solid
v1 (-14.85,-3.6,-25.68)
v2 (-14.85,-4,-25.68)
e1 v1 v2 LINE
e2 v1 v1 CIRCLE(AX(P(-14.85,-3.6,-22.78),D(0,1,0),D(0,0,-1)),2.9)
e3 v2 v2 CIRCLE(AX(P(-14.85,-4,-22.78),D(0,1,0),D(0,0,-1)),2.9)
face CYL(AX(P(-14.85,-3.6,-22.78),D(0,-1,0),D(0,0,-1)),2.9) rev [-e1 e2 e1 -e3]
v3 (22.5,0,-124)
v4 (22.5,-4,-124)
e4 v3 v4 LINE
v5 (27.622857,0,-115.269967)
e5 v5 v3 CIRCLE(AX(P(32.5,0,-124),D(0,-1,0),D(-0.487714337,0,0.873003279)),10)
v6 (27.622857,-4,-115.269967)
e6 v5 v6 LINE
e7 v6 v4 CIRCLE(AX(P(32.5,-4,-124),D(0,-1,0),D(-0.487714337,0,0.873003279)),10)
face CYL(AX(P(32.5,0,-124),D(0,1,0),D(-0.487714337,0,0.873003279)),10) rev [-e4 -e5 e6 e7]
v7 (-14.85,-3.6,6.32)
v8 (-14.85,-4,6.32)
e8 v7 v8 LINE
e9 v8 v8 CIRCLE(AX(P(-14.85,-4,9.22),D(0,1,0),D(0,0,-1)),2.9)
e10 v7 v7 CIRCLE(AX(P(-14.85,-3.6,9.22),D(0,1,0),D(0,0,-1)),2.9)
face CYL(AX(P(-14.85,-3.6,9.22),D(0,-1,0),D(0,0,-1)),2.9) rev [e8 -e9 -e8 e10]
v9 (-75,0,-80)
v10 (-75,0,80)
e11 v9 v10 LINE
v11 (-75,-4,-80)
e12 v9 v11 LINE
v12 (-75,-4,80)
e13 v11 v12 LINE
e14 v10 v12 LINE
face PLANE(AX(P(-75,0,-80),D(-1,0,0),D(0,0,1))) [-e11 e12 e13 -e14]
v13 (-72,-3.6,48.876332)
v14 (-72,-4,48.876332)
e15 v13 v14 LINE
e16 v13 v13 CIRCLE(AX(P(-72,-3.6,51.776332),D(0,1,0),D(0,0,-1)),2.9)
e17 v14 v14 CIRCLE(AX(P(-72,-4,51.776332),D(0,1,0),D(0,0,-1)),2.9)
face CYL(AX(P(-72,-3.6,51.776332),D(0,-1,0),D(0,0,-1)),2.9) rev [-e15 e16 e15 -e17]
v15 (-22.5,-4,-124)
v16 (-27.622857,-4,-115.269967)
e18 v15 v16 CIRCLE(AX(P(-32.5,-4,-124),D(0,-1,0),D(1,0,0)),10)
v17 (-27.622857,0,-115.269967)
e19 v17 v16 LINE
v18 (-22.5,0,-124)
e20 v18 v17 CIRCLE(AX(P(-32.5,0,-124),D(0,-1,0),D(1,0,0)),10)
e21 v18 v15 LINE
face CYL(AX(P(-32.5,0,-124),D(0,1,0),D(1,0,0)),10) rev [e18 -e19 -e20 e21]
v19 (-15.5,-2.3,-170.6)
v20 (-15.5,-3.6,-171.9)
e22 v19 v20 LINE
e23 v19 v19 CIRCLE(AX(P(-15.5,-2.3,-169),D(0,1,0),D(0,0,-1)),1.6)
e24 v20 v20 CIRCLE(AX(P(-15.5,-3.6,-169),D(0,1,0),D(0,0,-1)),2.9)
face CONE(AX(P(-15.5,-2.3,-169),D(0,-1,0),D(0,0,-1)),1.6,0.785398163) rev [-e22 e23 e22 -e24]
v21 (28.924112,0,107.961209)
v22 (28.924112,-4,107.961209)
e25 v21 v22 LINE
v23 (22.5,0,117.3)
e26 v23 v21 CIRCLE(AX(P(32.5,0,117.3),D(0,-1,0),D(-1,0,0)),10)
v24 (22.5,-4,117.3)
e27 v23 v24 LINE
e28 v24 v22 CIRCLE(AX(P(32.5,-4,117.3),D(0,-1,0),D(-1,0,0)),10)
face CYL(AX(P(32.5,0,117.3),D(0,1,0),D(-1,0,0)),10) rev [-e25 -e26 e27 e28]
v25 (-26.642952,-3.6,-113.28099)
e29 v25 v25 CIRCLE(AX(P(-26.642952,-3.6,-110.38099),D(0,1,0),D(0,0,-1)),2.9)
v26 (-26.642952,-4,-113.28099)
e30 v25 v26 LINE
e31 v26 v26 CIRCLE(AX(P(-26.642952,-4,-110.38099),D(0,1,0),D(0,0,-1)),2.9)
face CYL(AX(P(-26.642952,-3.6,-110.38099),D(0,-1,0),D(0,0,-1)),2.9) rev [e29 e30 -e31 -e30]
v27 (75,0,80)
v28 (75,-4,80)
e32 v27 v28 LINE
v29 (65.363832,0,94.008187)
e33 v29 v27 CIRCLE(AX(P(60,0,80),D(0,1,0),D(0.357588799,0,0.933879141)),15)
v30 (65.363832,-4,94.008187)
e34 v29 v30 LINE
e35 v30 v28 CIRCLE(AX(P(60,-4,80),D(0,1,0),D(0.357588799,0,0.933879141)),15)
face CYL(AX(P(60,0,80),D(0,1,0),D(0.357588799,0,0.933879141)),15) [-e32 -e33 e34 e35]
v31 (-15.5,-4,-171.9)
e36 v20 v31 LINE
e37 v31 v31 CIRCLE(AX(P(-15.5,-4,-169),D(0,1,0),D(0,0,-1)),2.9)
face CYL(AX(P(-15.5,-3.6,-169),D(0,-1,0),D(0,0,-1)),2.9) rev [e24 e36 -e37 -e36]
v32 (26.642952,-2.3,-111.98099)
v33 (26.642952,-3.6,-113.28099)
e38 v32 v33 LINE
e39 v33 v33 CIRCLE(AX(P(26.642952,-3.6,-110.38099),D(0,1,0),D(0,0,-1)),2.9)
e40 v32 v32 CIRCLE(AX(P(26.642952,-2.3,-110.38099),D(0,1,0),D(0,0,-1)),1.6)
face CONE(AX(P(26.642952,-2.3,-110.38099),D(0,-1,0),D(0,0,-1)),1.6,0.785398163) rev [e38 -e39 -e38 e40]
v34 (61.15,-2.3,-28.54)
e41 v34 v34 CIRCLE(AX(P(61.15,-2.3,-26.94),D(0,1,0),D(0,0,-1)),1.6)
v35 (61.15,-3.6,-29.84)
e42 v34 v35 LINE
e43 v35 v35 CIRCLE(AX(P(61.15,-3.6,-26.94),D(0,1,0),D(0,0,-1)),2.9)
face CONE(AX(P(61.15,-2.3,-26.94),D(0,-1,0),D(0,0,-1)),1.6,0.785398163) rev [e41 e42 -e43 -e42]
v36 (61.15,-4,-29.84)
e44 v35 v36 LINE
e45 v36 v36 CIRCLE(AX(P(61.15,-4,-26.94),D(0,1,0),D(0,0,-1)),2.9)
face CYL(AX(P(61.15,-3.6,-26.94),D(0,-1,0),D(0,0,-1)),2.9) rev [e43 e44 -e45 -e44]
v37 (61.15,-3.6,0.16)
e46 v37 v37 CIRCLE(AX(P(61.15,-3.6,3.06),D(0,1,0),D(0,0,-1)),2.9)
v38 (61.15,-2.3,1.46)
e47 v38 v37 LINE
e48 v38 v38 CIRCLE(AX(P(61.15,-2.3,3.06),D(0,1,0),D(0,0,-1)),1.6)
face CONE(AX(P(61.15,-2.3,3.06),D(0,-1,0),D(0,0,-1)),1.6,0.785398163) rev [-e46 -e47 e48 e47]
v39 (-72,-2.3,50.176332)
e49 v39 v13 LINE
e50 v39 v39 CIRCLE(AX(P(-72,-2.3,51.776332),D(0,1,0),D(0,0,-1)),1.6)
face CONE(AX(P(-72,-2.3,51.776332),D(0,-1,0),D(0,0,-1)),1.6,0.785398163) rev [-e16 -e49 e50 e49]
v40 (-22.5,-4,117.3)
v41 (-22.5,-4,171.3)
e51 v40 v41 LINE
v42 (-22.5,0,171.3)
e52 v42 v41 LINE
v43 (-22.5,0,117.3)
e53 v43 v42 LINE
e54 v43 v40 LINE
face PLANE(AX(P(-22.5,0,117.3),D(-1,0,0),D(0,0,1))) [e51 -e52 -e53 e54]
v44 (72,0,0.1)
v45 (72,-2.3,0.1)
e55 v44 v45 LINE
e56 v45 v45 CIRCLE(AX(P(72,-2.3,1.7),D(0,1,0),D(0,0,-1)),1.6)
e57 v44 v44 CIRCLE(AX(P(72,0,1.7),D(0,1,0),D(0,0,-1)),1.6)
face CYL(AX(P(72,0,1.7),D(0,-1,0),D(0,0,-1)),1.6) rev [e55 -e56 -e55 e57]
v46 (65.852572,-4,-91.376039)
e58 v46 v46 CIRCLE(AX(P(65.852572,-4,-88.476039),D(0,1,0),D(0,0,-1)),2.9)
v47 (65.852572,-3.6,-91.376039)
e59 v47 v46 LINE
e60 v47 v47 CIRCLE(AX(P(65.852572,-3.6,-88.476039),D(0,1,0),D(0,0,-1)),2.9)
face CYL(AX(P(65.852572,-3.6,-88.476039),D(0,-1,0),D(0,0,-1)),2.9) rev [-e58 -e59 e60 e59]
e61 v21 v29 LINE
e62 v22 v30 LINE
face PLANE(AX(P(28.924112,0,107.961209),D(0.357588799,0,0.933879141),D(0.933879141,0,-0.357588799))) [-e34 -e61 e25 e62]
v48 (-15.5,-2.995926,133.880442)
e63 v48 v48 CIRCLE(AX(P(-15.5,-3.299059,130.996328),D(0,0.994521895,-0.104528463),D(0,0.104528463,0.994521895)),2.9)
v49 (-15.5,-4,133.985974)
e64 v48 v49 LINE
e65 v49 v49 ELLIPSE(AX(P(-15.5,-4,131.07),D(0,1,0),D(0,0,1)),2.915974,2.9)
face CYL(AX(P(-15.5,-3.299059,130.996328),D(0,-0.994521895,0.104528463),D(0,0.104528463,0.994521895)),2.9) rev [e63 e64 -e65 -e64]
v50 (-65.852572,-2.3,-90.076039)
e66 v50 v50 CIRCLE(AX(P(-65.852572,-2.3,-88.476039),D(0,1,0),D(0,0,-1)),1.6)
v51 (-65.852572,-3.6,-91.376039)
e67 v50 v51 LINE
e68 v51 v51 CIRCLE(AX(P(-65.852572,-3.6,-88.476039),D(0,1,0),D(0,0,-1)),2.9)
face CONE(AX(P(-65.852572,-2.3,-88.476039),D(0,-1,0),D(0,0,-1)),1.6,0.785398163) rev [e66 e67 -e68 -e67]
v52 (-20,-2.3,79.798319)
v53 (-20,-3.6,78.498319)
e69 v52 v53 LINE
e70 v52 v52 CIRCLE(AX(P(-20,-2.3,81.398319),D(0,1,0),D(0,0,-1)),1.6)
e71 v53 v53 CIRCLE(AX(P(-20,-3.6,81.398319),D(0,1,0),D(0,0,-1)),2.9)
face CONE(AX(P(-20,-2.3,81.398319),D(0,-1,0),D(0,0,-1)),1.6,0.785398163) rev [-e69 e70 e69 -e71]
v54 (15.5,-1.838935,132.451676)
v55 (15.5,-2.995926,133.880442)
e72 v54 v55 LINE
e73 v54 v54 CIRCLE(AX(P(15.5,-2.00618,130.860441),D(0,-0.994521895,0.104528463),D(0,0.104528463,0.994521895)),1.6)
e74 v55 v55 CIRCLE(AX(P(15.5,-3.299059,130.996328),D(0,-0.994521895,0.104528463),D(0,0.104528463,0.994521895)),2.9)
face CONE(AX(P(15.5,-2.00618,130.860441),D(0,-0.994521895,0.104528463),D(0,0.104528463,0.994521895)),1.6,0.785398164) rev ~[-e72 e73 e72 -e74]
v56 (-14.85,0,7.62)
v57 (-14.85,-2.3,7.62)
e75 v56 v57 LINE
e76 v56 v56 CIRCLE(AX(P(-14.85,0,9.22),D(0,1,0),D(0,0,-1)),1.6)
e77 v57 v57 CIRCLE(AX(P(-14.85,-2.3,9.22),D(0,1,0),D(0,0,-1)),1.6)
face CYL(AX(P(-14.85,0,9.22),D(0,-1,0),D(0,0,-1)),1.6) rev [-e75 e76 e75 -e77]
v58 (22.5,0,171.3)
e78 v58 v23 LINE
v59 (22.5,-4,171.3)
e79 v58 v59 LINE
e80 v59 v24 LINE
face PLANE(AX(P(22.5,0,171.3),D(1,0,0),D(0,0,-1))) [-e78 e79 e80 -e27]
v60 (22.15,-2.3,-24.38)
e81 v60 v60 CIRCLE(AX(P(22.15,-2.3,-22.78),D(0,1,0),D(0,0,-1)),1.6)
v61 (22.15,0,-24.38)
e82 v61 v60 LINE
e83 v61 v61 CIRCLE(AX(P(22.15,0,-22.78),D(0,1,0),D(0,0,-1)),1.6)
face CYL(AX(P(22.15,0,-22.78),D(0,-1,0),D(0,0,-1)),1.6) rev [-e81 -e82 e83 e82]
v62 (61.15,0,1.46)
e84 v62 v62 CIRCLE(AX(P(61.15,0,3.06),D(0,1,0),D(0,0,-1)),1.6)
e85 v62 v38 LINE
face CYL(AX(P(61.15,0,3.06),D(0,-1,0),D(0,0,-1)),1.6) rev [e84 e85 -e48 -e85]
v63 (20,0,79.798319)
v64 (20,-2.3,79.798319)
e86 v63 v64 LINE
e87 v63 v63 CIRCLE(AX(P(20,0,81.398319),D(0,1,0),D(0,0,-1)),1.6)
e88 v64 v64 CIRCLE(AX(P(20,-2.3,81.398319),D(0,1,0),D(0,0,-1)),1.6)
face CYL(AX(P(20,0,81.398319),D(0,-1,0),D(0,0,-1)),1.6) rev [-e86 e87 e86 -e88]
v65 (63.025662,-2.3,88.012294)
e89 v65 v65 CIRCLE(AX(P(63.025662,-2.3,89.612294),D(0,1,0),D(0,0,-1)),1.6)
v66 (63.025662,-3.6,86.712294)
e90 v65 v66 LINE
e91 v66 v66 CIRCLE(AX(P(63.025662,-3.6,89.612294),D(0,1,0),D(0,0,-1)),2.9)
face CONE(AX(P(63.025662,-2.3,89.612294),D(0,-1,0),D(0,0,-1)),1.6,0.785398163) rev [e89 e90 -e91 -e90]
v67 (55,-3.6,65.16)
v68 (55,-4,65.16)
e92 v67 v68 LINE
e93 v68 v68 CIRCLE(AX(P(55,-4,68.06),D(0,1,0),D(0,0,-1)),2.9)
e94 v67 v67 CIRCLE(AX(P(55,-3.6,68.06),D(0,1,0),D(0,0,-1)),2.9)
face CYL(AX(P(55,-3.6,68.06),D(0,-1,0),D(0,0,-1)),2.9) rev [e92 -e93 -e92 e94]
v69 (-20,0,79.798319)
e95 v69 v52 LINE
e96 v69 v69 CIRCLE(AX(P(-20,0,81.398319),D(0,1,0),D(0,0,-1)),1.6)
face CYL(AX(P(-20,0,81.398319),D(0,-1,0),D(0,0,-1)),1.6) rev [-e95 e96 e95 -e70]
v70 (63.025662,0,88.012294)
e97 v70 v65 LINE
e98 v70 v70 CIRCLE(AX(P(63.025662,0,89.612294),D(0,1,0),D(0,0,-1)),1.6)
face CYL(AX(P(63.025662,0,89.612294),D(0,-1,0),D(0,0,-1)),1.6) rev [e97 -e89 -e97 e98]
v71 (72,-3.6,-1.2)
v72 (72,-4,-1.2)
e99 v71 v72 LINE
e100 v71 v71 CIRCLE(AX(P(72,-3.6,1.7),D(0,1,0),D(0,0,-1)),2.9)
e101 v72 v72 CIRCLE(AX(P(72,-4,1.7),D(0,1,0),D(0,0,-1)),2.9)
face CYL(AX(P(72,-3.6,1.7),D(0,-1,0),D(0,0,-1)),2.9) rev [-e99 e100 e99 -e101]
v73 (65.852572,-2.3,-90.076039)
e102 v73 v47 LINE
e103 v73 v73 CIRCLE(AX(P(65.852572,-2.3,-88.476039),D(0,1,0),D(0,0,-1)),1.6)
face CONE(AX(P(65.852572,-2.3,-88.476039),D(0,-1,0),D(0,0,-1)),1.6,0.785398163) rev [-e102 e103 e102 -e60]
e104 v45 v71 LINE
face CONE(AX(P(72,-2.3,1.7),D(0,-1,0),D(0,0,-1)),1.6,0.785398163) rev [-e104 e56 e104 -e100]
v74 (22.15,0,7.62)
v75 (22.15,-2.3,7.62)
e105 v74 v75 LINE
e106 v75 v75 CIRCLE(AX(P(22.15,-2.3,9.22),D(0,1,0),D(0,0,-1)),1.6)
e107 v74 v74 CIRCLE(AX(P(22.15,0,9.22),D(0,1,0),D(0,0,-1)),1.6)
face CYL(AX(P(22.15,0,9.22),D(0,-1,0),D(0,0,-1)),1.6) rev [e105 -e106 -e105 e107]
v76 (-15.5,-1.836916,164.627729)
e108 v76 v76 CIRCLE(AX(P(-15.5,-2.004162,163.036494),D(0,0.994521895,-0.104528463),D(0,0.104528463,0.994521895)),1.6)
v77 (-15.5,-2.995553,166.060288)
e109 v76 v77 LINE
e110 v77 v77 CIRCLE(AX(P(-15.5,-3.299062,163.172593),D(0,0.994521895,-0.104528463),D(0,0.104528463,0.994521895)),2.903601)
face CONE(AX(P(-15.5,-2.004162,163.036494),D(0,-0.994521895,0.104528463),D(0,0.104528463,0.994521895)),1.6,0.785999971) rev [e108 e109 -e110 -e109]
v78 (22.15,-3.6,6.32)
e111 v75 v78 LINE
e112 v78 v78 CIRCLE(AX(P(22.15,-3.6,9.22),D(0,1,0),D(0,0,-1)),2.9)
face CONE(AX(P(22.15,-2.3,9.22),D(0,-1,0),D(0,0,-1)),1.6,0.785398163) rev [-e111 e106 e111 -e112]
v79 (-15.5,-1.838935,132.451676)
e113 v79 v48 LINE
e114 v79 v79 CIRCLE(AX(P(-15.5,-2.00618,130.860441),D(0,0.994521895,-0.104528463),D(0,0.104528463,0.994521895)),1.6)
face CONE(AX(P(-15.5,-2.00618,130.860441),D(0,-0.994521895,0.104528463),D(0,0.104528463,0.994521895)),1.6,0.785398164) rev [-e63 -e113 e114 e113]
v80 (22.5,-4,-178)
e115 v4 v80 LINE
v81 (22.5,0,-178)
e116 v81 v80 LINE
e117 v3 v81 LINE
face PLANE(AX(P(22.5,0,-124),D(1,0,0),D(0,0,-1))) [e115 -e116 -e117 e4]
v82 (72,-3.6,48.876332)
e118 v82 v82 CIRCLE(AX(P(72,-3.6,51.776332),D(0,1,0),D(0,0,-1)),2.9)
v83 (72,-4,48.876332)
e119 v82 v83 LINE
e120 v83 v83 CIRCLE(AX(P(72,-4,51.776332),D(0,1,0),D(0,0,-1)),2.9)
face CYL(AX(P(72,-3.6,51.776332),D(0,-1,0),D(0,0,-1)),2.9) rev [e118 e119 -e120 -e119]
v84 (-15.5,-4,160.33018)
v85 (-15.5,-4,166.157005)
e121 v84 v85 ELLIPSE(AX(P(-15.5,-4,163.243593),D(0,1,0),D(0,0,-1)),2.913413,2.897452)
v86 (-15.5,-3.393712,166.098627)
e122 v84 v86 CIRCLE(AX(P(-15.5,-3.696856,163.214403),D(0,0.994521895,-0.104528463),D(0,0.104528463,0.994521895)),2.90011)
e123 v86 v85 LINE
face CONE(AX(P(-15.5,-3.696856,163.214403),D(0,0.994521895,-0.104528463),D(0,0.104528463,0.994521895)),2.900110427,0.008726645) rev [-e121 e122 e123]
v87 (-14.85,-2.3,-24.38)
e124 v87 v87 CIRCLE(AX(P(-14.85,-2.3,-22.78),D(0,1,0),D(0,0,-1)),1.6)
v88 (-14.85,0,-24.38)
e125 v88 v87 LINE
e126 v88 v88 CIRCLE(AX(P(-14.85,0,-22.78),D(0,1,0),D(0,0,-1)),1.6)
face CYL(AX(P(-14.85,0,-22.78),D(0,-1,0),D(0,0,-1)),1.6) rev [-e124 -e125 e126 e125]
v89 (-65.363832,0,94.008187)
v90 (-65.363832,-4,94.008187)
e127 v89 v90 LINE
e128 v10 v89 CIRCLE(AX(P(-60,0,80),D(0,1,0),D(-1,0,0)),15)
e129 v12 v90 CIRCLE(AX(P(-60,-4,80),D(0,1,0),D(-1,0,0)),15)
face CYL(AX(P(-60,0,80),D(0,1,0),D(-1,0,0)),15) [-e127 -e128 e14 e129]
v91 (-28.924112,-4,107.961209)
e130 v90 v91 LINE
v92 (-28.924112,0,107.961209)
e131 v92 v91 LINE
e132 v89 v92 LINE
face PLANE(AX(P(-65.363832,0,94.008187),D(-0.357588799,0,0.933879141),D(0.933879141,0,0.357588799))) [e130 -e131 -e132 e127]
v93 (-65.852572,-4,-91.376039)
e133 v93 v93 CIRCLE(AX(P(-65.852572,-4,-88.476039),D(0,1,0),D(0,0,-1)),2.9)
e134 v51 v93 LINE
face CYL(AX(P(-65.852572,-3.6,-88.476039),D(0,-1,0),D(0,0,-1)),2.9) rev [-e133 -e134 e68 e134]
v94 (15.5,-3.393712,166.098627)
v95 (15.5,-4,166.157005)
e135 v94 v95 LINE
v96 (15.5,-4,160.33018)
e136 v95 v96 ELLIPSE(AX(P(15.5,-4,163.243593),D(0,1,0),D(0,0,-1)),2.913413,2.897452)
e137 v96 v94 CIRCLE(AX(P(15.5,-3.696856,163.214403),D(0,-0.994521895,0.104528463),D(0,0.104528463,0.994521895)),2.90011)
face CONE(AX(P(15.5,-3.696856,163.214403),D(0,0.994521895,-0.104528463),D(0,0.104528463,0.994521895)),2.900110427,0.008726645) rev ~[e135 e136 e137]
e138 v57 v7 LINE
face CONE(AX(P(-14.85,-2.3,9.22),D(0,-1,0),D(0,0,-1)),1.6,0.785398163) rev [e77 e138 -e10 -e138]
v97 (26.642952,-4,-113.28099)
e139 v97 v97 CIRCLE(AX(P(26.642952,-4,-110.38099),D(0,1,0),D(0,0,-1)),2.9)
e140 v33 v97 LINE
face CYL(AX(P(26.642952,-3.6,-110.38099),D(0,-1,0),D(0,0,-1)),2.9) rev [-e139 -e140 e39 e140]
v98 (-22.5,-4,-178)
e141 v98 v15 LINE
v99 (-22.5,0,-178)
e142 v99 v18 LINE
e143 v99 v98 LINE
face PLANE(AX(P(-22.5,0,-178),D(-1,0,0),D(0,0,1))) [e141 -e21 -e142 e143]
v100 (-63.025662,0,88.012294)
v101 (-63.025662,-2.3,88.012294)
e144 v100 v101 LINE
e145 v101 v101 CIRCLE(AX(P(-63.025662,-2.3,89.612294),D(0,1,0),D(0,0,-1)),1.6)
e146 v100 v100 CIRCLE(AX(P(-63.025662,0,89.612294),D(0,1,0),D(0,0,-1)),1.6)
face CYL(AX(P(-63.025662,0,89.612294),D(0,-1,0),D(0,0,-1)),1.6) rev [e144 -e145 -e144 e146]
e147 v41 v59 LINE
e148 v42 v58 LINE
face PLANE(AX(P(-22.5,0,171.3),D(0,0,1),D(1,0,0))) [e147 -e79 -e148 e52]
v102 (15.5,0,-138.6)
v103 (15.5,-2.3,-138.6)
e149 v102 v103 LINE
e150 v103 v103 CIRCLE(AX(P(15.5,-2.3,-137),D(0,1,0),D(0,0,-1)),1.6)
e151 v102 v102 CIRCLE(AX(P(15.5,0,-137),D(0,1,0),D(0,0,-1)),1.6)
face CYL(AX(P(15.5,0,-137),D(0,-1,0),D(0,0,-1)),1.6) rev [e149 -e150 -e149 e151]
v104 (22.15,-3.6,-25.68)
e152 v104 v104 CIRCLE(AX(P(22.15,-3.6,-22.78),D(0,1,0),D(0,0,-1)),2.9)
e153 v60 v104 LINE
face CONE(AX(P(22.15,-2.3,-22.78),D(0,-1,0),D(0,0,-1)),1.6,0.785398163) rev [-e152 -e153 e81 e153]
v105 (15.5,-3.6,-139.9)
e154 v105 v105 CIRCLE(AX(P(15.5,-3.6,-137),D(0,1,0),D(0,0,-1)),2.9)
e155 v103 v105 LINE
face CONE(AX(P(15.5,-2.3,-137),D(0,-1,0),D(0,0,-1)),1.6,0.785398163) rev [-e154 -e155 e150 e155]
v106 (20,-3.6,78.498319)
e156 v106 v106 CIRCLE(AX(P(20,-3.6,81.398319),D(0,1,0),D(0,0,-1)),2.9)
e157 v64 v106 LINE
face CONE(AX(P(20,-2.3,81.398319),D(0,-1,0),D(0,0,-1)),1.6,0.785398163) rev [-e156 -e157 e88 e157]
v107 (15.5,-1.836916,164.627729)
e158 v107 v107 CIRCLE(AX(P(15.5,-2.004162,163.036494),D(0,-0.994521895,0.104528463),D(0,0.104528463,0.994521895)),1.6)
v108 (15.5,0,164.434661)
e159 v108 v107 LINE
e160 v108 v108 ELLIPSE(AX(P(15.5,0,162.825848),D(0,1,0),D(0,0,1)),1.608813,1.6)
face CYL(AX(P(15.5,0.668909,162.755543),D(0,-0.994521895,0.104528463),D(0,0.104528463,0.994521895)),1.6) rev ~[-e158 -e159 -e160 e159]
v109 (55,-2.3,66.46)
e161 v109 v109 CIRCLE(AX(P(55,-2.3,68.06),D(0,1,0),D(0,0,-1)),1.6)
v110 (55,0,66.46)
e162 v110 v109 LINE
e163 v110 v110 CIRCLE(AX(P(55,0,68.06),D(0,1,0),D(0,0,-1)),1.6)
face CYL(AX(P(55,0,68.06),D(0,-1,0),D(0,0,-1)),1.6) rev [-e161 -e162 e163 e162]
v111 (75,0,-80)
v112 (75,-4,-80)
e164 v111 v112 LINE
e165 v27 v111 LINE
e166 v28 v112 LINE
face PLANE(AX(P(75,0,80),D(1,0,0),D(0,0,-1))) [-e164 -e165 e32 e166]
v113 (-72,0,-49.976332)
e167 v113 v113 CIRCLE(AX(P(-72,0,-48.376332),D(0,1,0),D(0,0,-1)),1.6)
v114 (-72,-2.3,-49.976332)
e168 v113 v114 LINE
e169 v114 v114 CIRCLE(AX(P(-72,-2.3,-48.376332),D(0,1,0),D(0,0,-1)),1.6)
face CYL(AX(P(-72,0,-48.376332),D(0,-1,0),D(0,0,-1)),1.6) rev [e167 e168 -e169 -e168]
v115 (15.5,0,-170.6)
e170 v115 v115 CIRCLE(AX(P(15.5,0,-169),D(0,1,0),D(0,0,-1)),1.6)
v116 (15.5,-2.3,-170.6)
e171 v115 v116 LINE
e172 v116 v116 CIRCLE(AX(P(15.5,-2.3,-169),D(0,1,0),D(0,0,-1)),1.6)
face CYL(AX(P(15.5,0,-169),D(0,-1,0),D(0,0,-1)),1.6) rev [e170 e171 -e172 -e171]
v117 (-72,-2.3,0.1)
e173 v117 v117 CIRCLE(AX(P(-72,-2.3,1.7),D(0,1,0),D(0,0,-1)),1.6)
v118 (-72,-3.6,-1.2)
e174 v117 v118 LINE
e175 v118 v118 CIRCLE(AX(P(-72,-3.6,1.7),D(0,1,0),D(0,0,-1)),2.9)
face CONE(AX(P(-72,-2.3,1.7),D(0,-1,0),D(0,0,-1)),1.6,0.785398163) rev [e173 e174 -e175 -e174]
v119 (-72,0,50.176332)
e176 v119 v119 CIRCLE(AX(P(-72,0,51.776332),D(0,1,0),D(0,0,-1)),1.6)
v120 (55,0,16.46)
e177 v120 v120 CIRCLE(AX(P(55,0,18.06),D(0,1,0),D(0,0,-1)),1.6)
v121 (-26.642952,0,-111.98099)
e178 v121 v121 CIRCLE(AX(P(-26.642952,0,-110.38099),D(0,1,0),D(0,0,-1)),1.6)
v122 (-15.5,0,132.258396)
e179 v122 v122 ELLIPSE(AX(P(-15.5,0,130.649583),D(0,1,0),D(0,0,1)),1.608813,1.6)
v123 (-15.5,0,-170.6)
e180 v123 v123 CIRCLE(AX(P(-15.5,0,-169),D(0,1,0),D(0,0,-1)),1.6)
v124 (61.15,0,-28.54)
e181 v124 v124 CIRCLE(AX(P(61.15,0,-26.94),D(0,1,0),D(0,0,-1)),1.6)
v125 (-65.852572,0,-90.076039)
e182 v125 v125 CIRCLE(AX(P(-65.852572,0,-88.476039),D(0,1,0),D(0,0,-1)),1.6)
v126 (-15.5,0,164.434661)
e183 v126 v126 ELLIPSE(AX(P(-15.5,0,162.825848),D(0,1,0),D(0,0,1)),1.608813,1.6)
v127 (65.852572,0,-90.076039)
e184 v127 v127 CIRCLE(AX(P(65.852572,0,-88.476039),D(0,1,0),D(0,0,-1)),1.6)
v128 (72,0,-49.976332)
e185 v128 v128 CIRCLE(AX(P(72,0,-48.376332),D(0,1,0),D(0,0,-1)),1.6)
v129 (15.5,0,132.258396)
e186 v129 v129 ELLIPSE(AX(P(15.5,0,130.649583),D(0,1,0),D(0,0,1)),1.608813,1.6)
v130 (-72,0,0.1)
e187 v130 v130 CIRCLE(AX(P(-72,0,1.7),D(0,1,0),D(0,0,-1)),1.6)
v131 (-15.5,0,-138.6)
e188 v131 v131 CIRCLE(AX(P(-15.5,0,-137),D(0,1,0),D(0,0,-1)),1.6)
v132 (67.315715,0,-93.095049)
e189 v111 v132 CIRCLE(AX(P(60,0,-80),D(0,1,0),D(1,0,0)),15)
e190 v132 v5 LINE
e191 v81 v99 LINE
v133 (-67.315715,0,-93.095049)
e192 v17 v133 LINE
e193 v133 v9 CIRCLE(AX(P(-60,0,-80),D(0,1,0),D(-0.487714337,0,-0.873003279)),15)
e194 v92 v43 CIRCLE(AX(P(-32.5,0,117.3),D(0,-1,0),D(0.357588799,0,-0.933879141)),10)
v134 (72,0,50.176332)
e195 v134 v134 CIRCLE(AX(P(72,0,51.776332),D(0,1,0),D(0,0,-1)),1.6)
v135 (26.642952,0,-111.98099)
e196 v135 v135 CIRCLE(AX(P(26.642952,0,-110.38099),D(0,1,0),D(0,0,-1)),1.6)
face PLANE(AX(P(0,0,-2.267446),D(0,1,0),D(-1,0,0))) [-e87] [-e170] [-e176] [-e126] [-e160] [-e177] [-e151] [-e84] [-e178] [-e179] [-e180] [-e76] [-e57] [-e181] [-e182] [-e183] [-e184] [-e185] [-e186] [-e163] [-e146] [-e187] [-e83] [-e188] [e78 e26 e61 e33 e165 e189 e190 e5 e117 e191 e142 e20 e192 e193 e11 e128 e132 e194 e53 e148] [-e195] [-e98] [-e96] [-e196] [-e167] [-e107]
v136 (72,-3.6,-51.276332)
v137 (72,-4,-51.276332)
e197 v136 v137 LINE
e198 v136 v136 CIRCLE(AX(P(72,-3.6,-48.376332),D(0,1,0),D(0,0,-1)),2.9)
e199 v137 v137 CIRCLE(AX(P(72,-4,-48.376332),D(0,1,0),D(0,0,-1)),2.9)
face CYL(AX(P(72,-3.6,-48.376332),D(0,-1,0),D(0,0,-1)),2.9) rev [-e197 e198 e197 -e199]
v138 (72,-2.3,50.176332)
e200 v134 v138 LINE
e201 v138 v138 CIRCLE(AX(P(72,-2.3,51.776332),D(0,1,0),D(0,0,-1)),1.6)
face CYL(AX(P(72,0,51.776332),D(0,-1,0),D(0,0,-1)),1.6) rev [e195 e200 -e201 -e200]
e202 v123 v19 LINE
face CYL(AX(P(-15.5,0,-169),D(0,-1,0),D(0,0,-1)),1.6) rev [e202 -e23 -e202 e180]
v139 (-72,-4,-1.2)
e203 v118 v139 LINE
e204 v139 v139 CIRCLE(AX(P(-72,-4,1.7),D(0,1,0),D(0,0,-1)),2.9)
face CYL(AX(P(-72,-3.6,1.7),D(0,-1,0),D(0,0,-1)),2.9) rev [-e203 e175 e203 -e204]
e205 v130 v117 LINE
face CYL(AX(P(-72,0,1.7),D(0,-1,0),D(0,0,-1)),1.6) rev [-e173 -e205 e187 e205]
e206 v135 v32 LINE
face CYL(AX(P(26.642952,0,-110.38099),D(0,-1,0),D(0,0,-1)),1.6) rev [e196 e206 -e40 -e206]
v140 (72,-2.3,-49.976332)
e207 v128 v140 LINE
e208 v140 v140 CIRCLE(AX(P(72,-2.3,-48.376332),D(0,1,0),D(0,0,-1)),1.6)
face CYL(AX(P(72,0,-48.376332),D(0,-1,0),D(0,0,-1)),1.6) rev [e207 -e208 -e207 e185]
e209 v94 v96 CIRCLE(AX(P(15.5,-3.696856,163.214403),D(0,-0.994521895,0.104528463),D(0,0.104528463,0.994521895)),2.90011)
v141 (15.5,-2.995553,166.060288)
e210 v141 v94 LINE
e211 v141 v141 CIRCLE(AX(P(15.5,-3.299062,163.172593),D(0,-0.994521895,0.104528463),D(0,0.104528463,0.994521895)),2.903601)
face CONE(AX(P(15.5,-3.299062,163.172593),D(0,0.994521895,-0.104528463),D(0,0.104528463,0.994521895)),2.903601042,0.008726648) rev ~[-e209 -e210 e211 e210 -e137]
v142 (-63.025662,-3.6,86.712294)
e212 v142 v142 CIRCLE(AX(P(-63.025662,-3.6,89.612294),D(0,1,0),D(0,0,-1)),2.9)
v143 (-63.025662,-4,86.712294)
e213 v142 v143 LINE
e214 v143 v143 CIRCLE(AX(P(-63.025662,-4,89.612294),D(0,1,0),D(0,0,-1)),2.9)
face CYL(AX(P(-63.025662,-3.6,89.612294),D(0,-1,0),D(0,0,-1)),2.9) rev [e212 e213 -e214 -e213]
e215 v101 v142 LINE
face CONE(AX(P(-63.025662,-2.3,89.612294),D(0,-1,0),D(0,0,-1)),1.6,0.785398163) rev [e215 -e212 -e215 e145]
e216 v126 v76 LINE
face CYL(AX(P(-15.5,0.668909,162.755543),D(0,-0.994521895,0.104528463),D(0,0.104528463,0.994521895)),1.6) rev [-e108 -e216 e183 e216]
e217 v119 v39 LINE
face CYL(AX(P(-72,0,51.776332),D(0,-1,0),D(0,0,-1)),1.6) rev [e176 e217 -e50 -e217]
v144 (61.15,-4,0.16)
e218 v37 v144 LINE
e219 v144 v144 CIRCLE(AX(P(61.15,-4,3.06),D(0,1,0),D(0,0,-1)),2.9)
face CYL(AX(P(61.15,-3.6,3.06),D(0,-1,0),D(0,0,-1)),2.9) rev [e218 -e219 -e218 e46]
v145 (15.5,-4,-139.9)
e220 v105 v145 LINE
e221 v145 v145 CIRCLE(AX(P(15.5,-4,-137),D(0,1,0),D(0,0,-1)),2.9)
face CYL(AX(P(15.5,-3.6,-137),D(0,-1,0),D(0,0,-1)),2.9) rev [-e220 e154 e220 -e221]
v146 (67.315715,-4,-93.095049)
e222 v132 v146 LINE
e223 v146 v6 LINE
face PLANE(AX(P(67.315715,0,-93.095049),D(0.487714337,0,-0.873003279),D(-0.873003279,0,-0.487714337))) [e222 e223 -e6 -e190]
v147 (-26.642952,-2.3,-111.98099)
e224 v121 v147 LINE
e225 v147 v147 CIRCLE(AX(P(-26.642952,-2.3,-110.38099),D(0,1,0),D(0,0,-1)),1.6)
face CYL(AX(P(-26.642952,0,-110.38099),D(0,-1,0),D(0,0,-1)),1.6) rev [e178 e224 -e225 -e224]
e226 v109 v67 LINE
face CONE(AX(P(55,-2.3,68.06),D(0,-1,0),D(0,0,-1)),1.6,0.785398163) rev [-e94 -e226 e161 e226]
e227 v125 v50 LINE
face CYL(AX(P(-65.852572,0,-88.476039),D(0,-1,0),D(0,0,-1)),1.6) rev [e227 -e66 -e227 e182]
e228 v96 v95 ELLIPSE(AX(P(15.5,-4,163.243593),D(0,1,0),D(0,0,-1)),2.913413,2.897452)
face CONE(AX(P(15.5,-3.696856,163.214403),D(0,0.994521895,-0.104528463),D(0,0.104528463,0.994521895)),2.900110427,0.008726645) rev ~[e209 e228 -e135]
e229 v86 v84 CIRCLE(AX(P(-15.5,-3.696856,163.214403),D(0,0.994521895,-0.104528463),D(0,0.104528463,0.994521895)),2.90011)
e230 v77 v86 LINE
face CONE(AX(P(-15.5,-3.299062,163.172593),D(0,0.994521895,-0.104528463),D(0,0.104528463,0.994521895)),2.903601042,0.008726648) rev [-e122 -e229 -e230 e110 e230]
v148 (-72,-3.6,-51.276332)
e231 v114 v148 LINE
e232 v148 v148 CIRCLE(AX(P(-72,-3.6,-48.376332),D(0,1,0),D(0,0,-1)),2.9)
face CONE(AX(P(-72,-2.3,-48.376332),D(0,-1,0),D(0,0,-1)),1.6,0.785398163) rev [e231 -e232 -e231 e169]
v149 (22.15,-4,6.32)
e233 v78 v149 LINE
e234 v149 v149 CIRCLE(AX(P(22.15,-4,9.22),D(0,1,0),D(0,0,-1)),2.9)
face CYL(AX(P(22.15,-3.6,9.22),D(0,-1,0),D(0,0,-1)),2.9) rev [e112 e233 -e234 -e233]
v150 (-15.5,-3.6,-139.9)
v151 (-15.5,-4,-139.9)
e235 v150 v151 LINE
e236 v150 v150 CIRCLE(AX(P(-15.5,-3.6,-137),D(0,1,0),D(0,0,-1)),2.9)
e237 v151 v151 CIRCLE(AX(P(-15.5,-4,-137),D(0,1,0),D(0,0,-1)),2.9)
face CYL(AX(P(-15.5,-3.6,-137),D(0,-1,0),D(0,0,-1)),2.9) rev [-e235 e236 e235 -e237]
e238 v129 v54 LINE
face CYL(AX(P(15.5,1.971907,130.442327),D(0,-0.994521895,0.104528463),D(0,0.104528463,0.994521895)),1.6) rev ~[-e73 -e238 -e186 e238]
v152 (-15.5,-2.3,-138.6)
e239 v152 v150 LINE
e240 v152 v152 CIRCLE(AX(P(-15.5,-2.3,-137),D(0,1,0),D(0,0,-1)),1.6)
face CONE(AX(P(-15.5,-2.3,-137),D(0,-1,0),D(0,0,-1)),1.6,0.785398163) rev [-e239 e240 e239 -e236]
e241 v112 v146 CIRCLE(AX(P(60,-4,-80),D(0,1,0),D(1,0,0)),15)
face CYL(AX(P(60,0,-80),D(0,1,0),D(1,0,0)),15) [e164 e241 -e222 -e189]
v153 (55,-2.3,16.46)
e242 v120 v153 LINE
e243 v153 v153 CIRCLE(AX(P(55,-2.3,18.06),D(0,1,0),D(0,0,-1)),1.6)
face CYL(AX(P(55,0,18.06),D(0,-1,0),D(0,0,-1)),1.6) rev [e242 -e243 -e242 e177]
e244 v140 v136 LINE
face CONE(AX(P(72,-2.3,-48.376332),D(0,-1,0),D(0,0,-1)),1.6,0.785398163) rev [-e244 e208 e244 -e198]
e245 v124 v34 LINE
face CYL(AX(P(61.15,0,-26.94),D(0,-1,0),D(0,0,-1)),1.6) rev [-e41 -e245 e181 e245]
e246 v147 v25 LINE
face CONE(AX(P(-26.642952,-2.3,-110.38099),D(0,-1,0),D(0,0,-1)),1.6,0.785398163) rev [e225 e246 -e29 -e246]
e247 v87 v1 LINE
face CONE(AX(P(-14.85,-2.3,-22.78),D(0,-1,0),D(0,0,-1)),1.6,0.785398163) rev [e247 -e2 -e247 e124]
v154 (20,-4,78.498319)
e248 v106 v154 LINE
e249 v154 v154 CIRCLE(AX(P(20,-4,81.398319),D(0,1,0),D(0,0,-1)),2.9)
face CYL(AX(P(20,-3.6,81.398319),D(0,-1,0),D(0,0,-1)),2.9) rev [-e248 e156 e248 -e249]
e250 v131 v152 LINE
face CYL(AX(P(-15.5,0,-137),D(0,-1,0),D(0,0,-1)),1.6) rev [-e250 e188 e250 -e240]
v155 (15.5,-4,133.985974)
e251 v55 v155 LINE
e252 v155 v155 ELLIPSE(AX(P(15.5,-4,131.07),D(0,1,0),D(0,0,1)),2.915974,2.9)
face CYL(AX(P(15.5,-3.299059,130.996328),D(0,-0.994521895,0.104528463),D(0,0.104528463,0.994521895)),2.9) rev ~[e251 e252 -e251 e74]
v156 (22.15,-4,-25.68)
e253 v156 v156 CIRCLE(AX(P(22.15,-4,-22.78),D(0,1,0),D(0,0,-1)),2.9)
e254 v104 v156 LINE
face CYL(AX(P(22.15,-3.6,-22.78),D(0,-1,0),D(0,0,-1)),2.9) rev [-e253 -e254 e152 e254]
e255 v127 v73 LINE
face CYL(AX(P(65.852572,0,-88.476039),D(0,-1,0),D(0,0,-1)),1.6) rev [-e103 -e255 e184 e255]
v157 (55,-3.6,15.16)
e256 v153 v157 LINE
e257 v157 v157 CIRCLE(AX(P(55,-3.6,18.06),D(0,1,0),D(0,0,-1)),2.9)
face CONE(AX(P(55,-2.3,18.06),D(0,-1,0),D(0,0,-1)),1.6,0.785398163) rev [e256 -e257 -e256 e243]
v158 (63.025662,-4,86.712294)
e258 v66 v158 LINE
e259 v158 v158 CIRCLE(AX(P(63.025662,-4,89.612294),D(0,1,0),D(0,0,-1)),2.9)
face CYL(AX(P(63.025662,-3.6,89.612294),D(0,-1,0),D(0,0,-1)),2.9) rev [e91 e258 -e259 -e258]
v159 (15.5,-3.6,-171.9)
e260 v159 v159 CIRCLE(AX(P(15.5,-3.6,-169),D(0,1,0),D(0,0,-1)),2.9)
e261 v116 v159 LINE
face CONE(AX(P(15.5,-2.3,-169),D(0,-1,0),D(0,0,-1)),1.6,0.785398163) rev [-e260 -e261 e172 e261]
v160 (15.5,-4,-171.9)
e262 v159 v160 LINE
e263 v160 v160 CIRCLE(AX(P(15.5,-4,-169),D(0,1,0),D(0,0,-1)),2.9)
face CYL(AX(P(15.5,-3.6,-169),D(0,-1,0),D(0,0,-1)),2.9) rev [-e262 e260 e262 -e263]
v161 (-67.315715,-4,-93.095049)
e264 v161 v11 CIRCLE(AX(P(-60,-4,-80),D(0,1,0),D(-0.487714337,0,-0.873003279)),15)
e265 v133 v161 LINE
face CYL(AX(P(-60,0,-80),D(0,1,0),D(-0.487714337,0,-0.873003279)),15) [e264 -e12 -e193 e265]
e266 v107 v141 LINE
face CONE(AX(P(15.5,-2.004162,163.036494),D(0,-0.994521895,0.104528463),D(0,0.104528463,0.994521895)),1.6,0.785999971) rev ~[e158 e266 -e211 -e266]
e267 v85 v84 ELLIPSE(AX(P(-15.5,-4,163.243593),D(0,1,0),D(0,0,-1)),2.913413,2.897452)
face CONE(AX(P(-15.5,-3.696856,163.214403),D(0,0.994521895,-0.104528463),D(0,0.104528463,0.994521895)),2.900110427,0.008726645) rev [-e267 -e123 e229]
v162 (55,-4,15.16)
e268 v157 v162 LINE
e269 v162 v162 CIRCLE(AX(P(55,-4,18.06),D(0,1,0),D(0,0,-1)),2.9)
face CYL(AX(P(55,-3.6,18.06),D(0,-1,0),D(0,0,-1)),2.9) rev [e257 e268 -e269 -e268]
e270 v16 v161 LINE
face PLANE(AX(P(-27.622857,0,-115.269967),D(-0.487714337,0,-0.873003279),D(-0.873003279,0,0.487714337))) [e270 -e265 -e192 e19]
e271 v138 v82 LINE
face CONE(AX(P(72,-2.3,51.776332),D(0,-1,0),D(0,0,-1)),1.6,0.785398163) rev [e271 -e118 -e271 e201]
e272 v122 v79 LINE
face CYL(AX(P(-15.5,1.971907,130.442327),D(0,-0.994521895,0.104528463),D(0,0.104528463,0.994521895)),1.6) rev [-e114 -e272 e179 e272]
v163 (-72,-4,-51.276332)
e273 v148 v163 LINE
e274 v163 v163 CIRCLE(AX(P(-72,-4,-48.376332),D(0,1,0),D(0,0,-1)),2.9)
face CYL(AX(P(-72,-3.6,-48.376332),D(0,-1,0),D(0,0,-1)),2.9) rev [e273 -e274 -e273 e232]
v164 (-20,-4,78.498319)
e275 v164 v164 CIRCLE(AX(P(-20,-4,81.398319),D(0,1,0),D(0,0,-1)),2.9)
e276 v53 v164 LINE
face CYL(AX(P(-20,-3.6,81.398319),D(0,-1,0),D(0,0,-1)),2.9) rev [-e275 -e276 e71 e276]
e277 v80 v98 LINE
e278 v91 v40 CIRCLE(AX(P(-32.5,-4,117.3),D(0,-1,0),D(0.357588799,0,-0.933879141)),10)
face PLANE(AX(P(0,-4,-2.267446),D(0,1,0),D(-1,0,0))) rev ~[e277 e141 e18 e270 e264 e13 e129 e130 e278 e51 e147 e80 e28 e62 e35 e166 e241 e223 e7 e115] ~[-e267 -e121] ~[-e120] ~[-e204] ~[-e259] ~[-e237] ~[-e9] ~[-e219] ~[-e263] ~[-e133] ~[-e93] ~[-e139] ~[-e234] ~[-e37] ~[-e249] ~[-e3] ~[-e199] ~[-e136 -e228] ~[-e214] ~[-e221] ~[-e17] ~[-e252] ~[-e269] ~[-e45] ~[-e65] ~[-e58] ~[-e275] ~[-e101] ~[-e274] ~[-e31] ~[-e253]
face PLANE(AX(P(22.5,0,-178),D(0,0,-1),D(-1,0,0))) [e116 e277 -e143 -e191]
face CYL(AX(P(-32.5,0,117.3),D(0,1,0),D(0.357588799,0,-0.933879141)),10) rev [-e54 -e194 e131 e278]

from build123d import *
from build123d.topology import SkipClean

# Parameters (mm, degrees)
BOSS_EXTRU_1_DEPTH                          = 4
FRAISAGE_POUR_VIS_T_TE_FRAIS_E_M31_AT_COUNT = 2
FRAISAGE_POUR_VIS_T_TE_FRAIS_E_M31_AT_PITCH = 37
FRAISAGE_POUR_VIS_T_TE_FRAIS_E_M31_2_COUNT  = 2
FRAISAGE_POUR_VIS_T_TE_FRAIS_E_M31_2_PITCH  = 76.249233439
FRAISAGE_POUR_VIS_T_TE_FRAIS_E_M31_3_COUNT  = 2
FRAISAGE_POUR_VIS_T_TE_FRAIS_E_M31_3_PITCH  = 84.163802195
FRAISAGE_POUR_VIS_T_TE_FRAIS_E_M31_4_COUNT  = 2
FRAISAGE_POUR_VIS_T_TE_FRAIS_E_M31_4_PITCH  = 48.918299235
FRAISAGE_POUR_VIS_T_TE_FRAIS_E_M31_5_COUNT  = 2
FRAISAGE_POUR_VIS_T_TE_FRAIS_E_M31_5_PITCH  = 32
FRAISAGE_POUR_VIS_T_TE_FRAIS_E_M31_6_COUNT  = 2
FRAISAGE_POUR_VIS_T_TE_FRAIS_E_M31_6_PITCH  = 146.221444734
FRAISAGE_POUR_VIS_T_TE_FRAIS_E_M31_7_COUNT  = 2
FRAISAGE_POUR_VIS_T_TE_FRAIS_E_M31_7_PITCH  = 149.336569199
FRAISAGE_POUR_VIS_T_TE_FRAIS_E_M31_8_COUNT  = 2
FRAISAGE_POUR_VIS_T_TE_FRAIS_E_M31_8_PITCH  = 178.221185329
FRAISAGE_POUR_VIS_T_TE_FRAIS_E_M31_9_COUNT  = 2
FRAISAGE_POUR_VIS_T_TE_FRAIS_E_M31_9_PITCH  = 180.785759671
FRAISAGE_POUR_VIS_T_TE_FRAIS_E_M31_10_COUNT = 2
FRAISAGE_POUR_VIS_T_TE_FRAIS_E_M31_10_PITCH = 93.722010844
FRAISAGE_POUR_VIS_T_TE_FRAIS_E_M31_11_COUNT = 2
FRAISAGE_POUR_VIS_T_TE_FRAIS_E_M31_11_PITCH = 71.254220114
FRAISAGE_POUR_VIS_T_TE_FRAIS_E_M31_12_COUNT = 2
FRAISAGE_POUR_VIS_T_TE_FRAIS_E_M31_12_PITCH = 81.138523202
FRAISAGE_POUR_VIS_T_TE_FRAIS_E_M31_13_COUNT = 2
FRAISAGE_POUR_VIS_T_TE_FRAIS_E_M31_13_PITCH = 110.207887466
FRAISAGE_POUR_VIS_T_TE_FRAIS_E_M31_14_COUNT = 2
FRAISAGE_POUR_VIS_T_TE_FRAIS_E_M31_14_PITCH = 120.180990857
FRAISAGE_POUR_VIS_T_TE_FRAIS_E_M31_15_COUNT = 2
FRAISAGE_POUR_VIS_T_TE_FRAIS_E_M31_15_PITCH = 126.594083229
FRAISAGE_POUR_VIS_T_TE_FRAIS_E_M31_16_COUNT = 2
FRAISAGE_POUR_VIS_T_TE_FRAIS_E_M31_16_PITCH = 126.717880504
FRAISAGE_POUR_VIS_T_TE_FRAIS_E_M31_17_COUNT = 2
FRAISAGE_POUR_VIS_T_TE_FRAIS_E_M31_17_PITCH = 104.212570966
FRAISAGE_POUR_VIS_T_TE_FRAIS_E_M31_18_COUNT = 2
FRAISAGE_POUR_VIS_T_TE_FRAIS_E_M31_18_PITCH = 111.926492077
FRAISAGE_POUR_VIS_T_TE_FRAIS_E_M31_19_COUNT = 2
FRAISAGE_POUR_VIS_T_TE_FRAIS_E_M31_19_PITCH = 96.715892614
FRAISAGE_POUR_VIS_T_TE_FRAIS_E_M31_20_COUNT = 2
FRAISAGE_POUR_VIS_T_TE_FRAIS_E_M31_20_PITCH = 72.361814356
FRAISAGE_POUR_VIS_T_TE_FRAIS_E_M31_21_COUNT = 2
FRAISAGE_POUR_VIS_T_TE_FRAIS_E_M31_21_PITCH = 80.151308017
FRAISAGE_POUR_VIS_T_TE_FRAIS_E_M31_22_COUNT = 2
FRAISAGE_POUR_VIS_T_TE_FRAIS_E_M31_22_PITCH = 87.174955693
FRAISAGE_POUR_VIS_T_TE_FRAIS_E_M31_23_COUNT = 2
FRAISAGE_POUR_VIS_T_TE_FRAIS_E_M31_23_PITCH = 57.642630925
FRAISAGE_POUR_VIS_T_TE_FRAIS_E_M31_24_COUNT = 2
FRAISAGE_POUR_VIS_T_TE_FRAIS_E_M31_24_PITCH = 91.32999562
FRAISAGE_POUR_VIS_T_TE_FRAIS_E_M31_25_COUNT = 2
FRAISAGE_POUR_VIS_T_TE_FRAIS_E_M31_25_PITCH = 70.407159437


with BuildPart() as part:
    # Esquisse1 → Boss.-Extru.1 (new body)
    with BuildSketch(Plane.XZ):
        with BuildLine():
            Line((22.5, 171.3), (22.5, 117.3))
            ThreePointArc((22.5, 117.3), (24.261102018, 111.632499665), (28.924112009, 107.961208586))
            Line((28.924112009, 107.961208586), (65.363831986, 94.008187121))
            ThreePointArc((65.363831986, 94.008187121), (72.358346973, 88.501250502), (75, 80))
            Line((75, 80), (75, -80))
            ThreePointArc((75, -80), (72.937073199, -87.591583303), (67.31571506, -93.095049185))
            Line((67.31571506, -93.095049185), (27.622856627, -115.26996721))
            ThreePointArc((27.622856627, -115.26996721), (23.875284534, -118.938944464), (22.5, -124))
            Line((22.5, -124), (22.5, -178))
            Line((22.5, -178), (-22.5, -178))
            Line((-22.5, -178), (-22.5, -124))
            ThreePointArc((-22.5, -124), (-23.875284534, -118.938944464), (-27.622856627, -115.26996721))
            Line((-27.622856627, -115.26996721), (-67.31571506, -93.095049185))
            ThreePointArc((-67.31571506, -93.095049185), (-72.937073199, -87.591583303), (-75, -80))
            Line((-75, -80), (-75, 80))
            ThreePointArc((-75, 80), (-72.358346973, 88.501250502), (-65.363831986, 94.008187121))
            Line((-65.363831986, 94.008187121), (-28.924112009, 107.961208586))
            ThreePointArc((-28.924112009, 107.961208586), (-24.261102018, 111.632499665), (-22.5, 117.3))
            Line((-22.5, 117.3), (-22.5, 171.3))
            Line((-22.5, 171.3), (22.5, 171.3))
        make_face()
    extrude(amount=BOSS_EXTRU_1_DEPTH)

    # Esquisse2 → Fraisage pour vis à tête fraisée M31 (revolve, cut)
    with BuildSketch(Plane(origin=(-14.85, -4, 9.22), x_dir=(0, 0, -1), z_dir=(1, 0, 0))):
        Polygon((0, 0), (0, 4), (1.6, 4), (1.6, 1.7), (2.9, 0.4), (2.9, 0), align=None)
    fraisage_pour_vis_t_te_frais_e_m31 = revolve(axis=Axis((-14.85, -10.35, 9.22), (0, 1, 0)), mode=Mode.SUBTRACT)

    # Fraisage pour vis à tête fraisée M31 at: Fraisage pour vis à tête fraisée M31 ×2
    with Locations(*[(i * FRAISAGE_POUR_VIS_T_TE_FRAIS_E_M31_AT_PITCH, 0, 0) for i in range(1, FRAISAGE_POUR_VIS_T_TE_FRAIS_E_M31_AT_COUNT)]):
        add(fraisage_pour_vis_t_te_frais_e_m31, mode=Mode.SUBTRACT)

    # Fraisage pour vis _ t_te frais_e M31 2: Fraisage pour vis à tête fraisée M31 ×2
    with Locations(*[Vector(0.9967313318766692, 0, -0.08078769742579317) * (i * FRAISAGE_POUR_VIS_T_TE_FRAIS_E_M31_2_PITCH) for i in range(1, FRAISAGE_POUR_VIS_T_TE_FRAIS_E_M31_2_COUNT)]):
        add(fraisage_pour_vis_t_te_frais_e_m31, mode=Mode.SUBTRACT)

    # Fraisage pour vis _ t_te frais_e M31 3: Fraisage pour vis à tête fraisée M31 ×2
    with Locations(*[Vector(0.903001029153611, 0, -0.429638384397297) * (i * FRAISAGE_POUR_VIS_T_TE_FRAIS_E_M31_3_PITCH) for i in range(1, FRAISAGE_POUR_VIS_T_TE_FRAIS_E_M31_3_COUNT)]):
        add(fraisage_pour_vis_t_te_frais_e_m31, mode=Mode.SUBTRACT)

    # Fraisage pour vis _ t_te frais_e M31 4: Fraisage pour vis à tête fraisée M31 ×2
    with Locations(*[Vector(0.7563631724521444, 0, -0.6541519329315842) * (i * FRAISAGE_POUR_VIS_T_TE_FRAIS_E_M31_4_PITCH) for i in range(1, FRAISAGE_POUR_VIS_T_TE_FRAIS_E_M31_4_COUNT)]):
        add(fraisage_pour_vis_t_te_frais_e_m31, mode=Mode.SUBTRACT)

    # Fraisage pour vis _ t_te frais_e M31 5: Fraisage pour vis à tête fraisée M31 ×2
    with Locations(*[(0, 0, -i * FRAISAGE_POUR_VIS_T_TE_FRAIS_E_M31_5_PITCH) for i in range(1, FRAISAGE_POUR_VIS_T_TE_FRAIS_E_M31_5_COUNT)]):
        add(fraisage_pour_vis_t_te_frais_e_m31, mode=Mode.SUBTRACT)

    # Fraisage pour vis _ t_te frais_e M31 6: Fraisage pour vis à tête fraisée M31 ×2
    with Locations(*[Vector(-0.004445312390285126, 0, -0.9999901195500648) * (i * FRAISAGE_POUR_VIS_T_TE_FRAIS_E_M31_6_PITCH) for i in range(1, FRAISAGE_POUR_VIS_T_TE_FRAIS_E_M31_6_COUNT)]):
        add(fraisage_pour_vis_t_te_frais_e_m31, mode=Mode.SUBTRACT)

    # Fraisage pour vis _ t_te frais_e M31 7: Fraisage pour vis à tête fraisée M31 ×2
    with Locations(*[Vector(0.2032322033569929, 0, -0.9791305691881251) * (i * FRAISAGE_POUR_VIS_T_TE_FRAIS_E_M31_7_PITCH) for i in range(1, FRAISAGE_POUR_VIS_T_TE_FRAIS_E_M31_7_COUNT)]):
        add(fraisage_pour_vis_t_te_frais_e_m31, mode=Mode.SUBTRACT)

    # Fraisage pour vis _ t_te frais_e M31 8: Fraisage pour vis à tête fraisée M31 ×2
    with Locations(*[Vector(-0.003647153388643399, 0, -0.9999933491139628) * (i * FRAISAGE_POUR_VIS_T_TE_FRAIS_E_M31_8_PITCH) for i in range(1, FRAISAGE_POUR_VIS_T_TE_FRAIS_E_M31_8_COUNT)]):
        add(fraisage_pour_vis_t_te_frais_e_m31, mode=Mode.SUBTRACT)

    # Fraisage pour vis _ t_te frais_e M31 9: Fraisage pour vis à tête fraisée M31 ×2
    with Locations(*[Vector(0.16787826682338555, 0, -0.9858077335507042) * (i * FRAISAGE_POUR_VIS_T_TE_FRAIS_E_M31_9_PITCH) for i in range(1, FRAISAGE_POUR_VIS_T_TE_FRAIS_E_M31_9_COUNT)]):
        add(fraisage_pour_vis_t_te_frais_e_m31, mode=Mode.SUBTRACT)

    # Fraisage pour vis _ t_te frais_e M31 10: Fraisage pour vis à tête fraisée M31 ×2
    with Locations(*[Vector(-0.5140271894002647, 0, 0.8577738912774534) * (i * FRAISAGE_POUR_VIS_T_TE_FRAIS_E_M31_10_PITCH) for i in range(1, FRAISAGE_POUR_VIS_T_TE_FRAIS_E_M31_10_COUNT)]):
        add(fraisage_pour_vis_t_te_frais_e_m31, mode=Mode.SUBTRACT)

    # Fraisage pour vis _ t_te frais_e M31 11: Fraisage pour vis à tête fraisée M31 ×2
    with Locations(*[Vector(-0.8020577575406399, 0, 0.5972464763972075) * (i * FRAISAGE_POUR_VIS_T_TE_FRAIS_E_M31_11_PITCH) for i in range(1, FRAISAGE_POUR_VIS_T_TE_FRAIS_E_M31_11_COUNT)]):
        add(fraisage_pour_vis_t_te_frais_e_m31, mode=Mode.SUBTRACT)

    # Fraisage pour vis _ t_te frais_e M31 12: Fraisage pour vis à tête fraisée M31 ×2
    with Locations(*[Vector(-0.7043510005461847, 0, -0.7098518634402452) * (i * FRAISAGE_POUR_VIS_T_TE_FRAIS_E_M31_12_PITCH) for i in range(1, FRAISAGE_POUR_VIS_T_TE_FRAIS_E_M31_12_COUNT)]):
        add(fraisage_pour_vis_t_te_frais_e_m31, mode=Mode.SUBTRACT)

    # Fraisage pour vis _ t_te frais_e M31 13: Fraisage pour vis à tête fraisée M31 ×2
    with Locations(*[Vector(-0.4627851347160459, 0, -0.8864704840466214) * (i * FRAISAGE_POUR_VIS_T_TE_FRAIS_E_M31_13_PITCH) for i in range(1, FRAISAGE_POUR_VIS_T_TE_FRAIS_E_M31_13_COUNT)]):
        add(fraisage_pour_vis_t_te_frais_e_m31, mode=Mode.SUBTRACT)

    # Fraisage pour vis _ t_te frais_e M31 14: Fraisage pour vis à tête fraisée M31 ×2
    with Locations(*[Vector(-0.09812659935351496, 0, -0.9951739398212329) * (i * FRAISAGE_POUR_VIS_T_TE_FRAIS_E_M31_14_PITCH) for i in range(1, FRAISAGE_POUR_VIS_T_TE_FRAIS_E_M31_14_COUNT)]):
        add(fraisage_pour_vis_t_te_frais_e_m31, mode=Mode.SUBTRACT)

    # Fraisage pour vis _ t_te frais_e M31 15: Fraisage pour vis à tête fraisée M31 ×2
    with Locations(*[Vector(0.32776375389231355, 0, -0.9447597163482464) * (i * FRAISAGE_POUR_VIS_T_TE_FRAIS_E_M31_15_PITCH) for i in range(1, FRAISAGE_POUR_VIS_T_TE_FRAIS_E_M31_15_COUNT)]):
        add(fraisage_pour_vis_t_te_frais_e_m31, mode=Mode.SUBTRACT)

    # Fraisage pour vis _ t_te frais_e M31 16: Fraisage pour vis à tête fraisée M31 ×2
    with Locations(*[Vector(0.6368680704479339, 0, -0.770972801623978) * (i * FRAISAGE_POUR_VIS_T_TE_FRAIS_E_M31_16_PITCH) for i in range(1, FRAISAGE_POUR_VIS_T_TE_FRAIS_E_M31_16_COUNT)]):
        add(fraisage_pour_vis_t_te_frais_e_m31, mode=Mode.SUBTRACT)

    # Fraisage pour vis _ t_te frais_e M31 17: Fraisage pour vis à tête fraisée M31 ×2
    with Locations(*[Vector(0.8333927394254491, 0, -0.5526812298902014) * (i * FRAISAGE_POUR_VIS_T_TE_FRAIS_E_M31_17_PITCH) for i in range(1, FRAISAGE_POUR_VIS_T_TE_FRAIS_E_M31_17_COUNT)]):
        add(fraisage_pour_vis_t_te_frais_e_m31, mode=Mode.SUBTRACT)

    # Fraisage pour vis _ t_te frais_e M31 18: Fraisage pour vis à tête fraisée M31 ×2
    with Locations(*[Vector(0.6957750607010041, 0, 0.7182597475193178) * (i * FRAISAGE_POUR_VIS_T_TE_FRAIS_E_M31_18_PITCH) for i in range(1, FRAISAGE_POUR_VIS_T_TE_FRAIS_E_M31_18_COUNT)]):
        add(fraisage_pour_vis_t_te_frais_e_m31, mode=Mode.SUBTRACT)

    # Fraisage pour vis _ t_te frais_e M31 19: Fraisage pour vis à tête fraisée M31 ×2
    with Locations(*[Vector(0.8979909883776221, 0, 0.4400138461373474) * (i * FRAISAGE_POUR_VIS_T_TE_FRAIS_E_M31_19_PITCH) for i in range(1, FRAISAGE_POUR_VIS_T_TE_FRAIS_E_M31_19_COUNT)]):
        add(fraisage_pour_vis_t_te_frais_e_m31, mode=Mode.SUBTRACT)

    # Fraisage pour vis _ t_te frais_e M31 20: Fraisage pour vis à tête fraisée M31 ×2
    with Locations(*[Vector(-0.07117013366549435, 0, 0.9974641908730537) * (i * FRAISAGE_POUR_VIS_T_TE_FRAIS_E_M31_20_PITCH) for i in range(1, FRAISAGE_POUR_VIS_T_TE_FRAIS_E_M31_20_COUNT)]):
        add(fraisage_pour_vis_t_te_frais_e_m31, mode=Mode.SUBTRACT)

    # Fraisage pour vis _ t_te frais_e M31 21: Fraisage pour vis à tête fraisée M31 ×2
    with Locations(*[Vector(0.43480263593981594, 0, 0.9005257729680967) * (i * FRAISAGE_POUR_VIS_T_TE_FRAIS_E_M31_21_PITCH) for i in range(1, FRAISAGE_POUR_VIS_T_TE_FRAIS_E_M31_21_COUNT)]):
        add(fraisage_pour_vis_t_te_frais_e_m31, mode=Mode.SUBTRACT)

    # Fraisage pour vis _ t_te frais_e M31 22: Fraisage pour vis à tête fraisée M31 ×2
    with Locations(*[Vector(0.9962723732982764, 0, -0.08626330739439464) * (i * FRAISAGE_POUR_VIS_T_TE_FRAIS_E_M31_22_PITCH) for i in range(1, FRAISAGE_POUR_VIS_T_TE_FRAIS_E_M31_22_COUNT)]):
        add(fraisage_pour_vis_t_te_frais_e_m31, mode=Mode.SUBTRACT)

    # Fraisage pour vis _ t_te frais_e M31 23: Fraisage pour vis à tête fraisée M31 ×2
    with Locations(*[Vector(-0.9914537050534457, 0, -0.1304590002100094) * (i * FRAISAGE_POUR_VIS_T_TE_FRAIS_E_M31_23_PITCH) for i in range(1, FRAISAGE_POUR_VIS_T_TE_FRAIS_E_M31_23_COUNT)]):
        add(fraisage_pour_vis_t_te_frais_e_m31, mode=Mode.SUBTRACT)

    # Fraisage pour vis _ t_te frais_e M31 24: Fraisage pour vis à tête fraisée M31 ×2
    with Locations(*[Vector(0.7648089713089968, 0, 0.6442571205700983) * (i * FRAISAGE_POUR_VIS_T_TE_FRAIS_E_M31_24_PITCH) for i in range(1, FRAISAGE_POUR_VIS_T_TE_FRAIS_E_M31_24_COUNT)]):
        add(fraisage_pour_vis_t_te_frais_e_m31, mode=Mode.SUBTRACT)

    # Fraisage pour vis _ t_te frais_e M31 25: Fraisage pour vis à tête fraisée M31 ×2
    with Locations(*[Vector(0.9920866082150472, 0, 0.12555541326586997) * (i * FRAISAGE_POUR_VIS_T_TE_FRAIS_E_M31_25_PITCH) for i in range(1, FRAISAGE_POUR_VIS_T_TE_FRAIS_E_M31_25_COUNT)]):
        add(fraisage_pour_vis_t_te_frais_e_m31, mode=Mode.SUBTRACT)

    # Esquisse4 → Enlèvement de matière-Révolution1 (revolve, cut)
    with BuildSketch(Plane(origin=(15.5, 0, 0), x_dir=(0, 0, -1), z_dir=(1, 0, 0)), mode=Mode.PRIVATE) as enl_vement_de_mati_re_r_volution1_sk:
        Polygon((-130.442327245, 1.971907347), (-128.851092213, 1.804661806), (-129.269206066, -2.173425776), (-128.112214604, -3.602191242), (-128.217747018, -4.606265087), (-131.101860514, -4.303132543), align=None)
    enl_vement_de_mati_re_r_volution1 = revolve(enl_vement_de_mati_re_r_volution1_sk.sketch.rotate(Axis((15.5, 1.971907347, 130.442327245), (0, -0.9945218953682737, 0.10452846326764959)), 180), axis=Axis((15.5, 1.971907347, 130.442327245), (0, -0.9945218953682737, 0.10452846326764959)), mode=Mode.SUBTRACT)

    # Esquisse5 → Enlèvement de matière-Révolution2 (revolve, cut)
    with SkipClean():  # the faces are left unmerged after this step: merging them gives an invalid solid
        with BuildSketch(Plane(origin=(15.5, 0, 0), x_dir=(0, 0, -1), z_dir=(1, 0, 0)), mode=Mode.PRIVATE) as enl_vement_de_mati_re_r_volution2_sk:
            Polygon((-162.75554286, 0.668908774), (-161.164307827, 0.501663233), (-161.445258889, -2.171407565), (-160.284898614, -3.602571258), (-160.3301799, -4), (-160.399257711, -4.606288173), (-163.278185176, -4.303700703), align=None)
        enl_vement_de_mati_re_r_volution2 = revolve(enl_vement_de_mati_re_r_volution2_sk.sketch.rotate(Axis((15.5, 0.668908774, 162.75554286), (0, -0.9945218953682743, 0.10452846326764464)), 180), axis=Axis((15.5, 0.668908774, 162.75554286), (0, -0.9945218953682743, 0.10452846326764464)), mode=Mode.SUBTRACT)

    # Symétrie1: Enlèvement de matière-Révolution1, Enlèvement de matière-Révolution2 across plane
    with SkipClean():  # the faces are left unmerged after this step: merging them gives an invalid solid
        add(enl_vement_de_mati_re_r_volution1.mirror(Plane(origin=(0, 0, 0), x_dir=(0, 0, 1), z_dir=(1, 0, 0))), mode=Mode.SUBTRACT)
        add(enl_vement_de_mati_re_r_volution2.mirror(Plane(origin=(0, 0, 0), x_dir=(0, 0, 1), z_dir=(1, 0, 0))), mode=Mode.SUBTRACT)


solid = part.part
